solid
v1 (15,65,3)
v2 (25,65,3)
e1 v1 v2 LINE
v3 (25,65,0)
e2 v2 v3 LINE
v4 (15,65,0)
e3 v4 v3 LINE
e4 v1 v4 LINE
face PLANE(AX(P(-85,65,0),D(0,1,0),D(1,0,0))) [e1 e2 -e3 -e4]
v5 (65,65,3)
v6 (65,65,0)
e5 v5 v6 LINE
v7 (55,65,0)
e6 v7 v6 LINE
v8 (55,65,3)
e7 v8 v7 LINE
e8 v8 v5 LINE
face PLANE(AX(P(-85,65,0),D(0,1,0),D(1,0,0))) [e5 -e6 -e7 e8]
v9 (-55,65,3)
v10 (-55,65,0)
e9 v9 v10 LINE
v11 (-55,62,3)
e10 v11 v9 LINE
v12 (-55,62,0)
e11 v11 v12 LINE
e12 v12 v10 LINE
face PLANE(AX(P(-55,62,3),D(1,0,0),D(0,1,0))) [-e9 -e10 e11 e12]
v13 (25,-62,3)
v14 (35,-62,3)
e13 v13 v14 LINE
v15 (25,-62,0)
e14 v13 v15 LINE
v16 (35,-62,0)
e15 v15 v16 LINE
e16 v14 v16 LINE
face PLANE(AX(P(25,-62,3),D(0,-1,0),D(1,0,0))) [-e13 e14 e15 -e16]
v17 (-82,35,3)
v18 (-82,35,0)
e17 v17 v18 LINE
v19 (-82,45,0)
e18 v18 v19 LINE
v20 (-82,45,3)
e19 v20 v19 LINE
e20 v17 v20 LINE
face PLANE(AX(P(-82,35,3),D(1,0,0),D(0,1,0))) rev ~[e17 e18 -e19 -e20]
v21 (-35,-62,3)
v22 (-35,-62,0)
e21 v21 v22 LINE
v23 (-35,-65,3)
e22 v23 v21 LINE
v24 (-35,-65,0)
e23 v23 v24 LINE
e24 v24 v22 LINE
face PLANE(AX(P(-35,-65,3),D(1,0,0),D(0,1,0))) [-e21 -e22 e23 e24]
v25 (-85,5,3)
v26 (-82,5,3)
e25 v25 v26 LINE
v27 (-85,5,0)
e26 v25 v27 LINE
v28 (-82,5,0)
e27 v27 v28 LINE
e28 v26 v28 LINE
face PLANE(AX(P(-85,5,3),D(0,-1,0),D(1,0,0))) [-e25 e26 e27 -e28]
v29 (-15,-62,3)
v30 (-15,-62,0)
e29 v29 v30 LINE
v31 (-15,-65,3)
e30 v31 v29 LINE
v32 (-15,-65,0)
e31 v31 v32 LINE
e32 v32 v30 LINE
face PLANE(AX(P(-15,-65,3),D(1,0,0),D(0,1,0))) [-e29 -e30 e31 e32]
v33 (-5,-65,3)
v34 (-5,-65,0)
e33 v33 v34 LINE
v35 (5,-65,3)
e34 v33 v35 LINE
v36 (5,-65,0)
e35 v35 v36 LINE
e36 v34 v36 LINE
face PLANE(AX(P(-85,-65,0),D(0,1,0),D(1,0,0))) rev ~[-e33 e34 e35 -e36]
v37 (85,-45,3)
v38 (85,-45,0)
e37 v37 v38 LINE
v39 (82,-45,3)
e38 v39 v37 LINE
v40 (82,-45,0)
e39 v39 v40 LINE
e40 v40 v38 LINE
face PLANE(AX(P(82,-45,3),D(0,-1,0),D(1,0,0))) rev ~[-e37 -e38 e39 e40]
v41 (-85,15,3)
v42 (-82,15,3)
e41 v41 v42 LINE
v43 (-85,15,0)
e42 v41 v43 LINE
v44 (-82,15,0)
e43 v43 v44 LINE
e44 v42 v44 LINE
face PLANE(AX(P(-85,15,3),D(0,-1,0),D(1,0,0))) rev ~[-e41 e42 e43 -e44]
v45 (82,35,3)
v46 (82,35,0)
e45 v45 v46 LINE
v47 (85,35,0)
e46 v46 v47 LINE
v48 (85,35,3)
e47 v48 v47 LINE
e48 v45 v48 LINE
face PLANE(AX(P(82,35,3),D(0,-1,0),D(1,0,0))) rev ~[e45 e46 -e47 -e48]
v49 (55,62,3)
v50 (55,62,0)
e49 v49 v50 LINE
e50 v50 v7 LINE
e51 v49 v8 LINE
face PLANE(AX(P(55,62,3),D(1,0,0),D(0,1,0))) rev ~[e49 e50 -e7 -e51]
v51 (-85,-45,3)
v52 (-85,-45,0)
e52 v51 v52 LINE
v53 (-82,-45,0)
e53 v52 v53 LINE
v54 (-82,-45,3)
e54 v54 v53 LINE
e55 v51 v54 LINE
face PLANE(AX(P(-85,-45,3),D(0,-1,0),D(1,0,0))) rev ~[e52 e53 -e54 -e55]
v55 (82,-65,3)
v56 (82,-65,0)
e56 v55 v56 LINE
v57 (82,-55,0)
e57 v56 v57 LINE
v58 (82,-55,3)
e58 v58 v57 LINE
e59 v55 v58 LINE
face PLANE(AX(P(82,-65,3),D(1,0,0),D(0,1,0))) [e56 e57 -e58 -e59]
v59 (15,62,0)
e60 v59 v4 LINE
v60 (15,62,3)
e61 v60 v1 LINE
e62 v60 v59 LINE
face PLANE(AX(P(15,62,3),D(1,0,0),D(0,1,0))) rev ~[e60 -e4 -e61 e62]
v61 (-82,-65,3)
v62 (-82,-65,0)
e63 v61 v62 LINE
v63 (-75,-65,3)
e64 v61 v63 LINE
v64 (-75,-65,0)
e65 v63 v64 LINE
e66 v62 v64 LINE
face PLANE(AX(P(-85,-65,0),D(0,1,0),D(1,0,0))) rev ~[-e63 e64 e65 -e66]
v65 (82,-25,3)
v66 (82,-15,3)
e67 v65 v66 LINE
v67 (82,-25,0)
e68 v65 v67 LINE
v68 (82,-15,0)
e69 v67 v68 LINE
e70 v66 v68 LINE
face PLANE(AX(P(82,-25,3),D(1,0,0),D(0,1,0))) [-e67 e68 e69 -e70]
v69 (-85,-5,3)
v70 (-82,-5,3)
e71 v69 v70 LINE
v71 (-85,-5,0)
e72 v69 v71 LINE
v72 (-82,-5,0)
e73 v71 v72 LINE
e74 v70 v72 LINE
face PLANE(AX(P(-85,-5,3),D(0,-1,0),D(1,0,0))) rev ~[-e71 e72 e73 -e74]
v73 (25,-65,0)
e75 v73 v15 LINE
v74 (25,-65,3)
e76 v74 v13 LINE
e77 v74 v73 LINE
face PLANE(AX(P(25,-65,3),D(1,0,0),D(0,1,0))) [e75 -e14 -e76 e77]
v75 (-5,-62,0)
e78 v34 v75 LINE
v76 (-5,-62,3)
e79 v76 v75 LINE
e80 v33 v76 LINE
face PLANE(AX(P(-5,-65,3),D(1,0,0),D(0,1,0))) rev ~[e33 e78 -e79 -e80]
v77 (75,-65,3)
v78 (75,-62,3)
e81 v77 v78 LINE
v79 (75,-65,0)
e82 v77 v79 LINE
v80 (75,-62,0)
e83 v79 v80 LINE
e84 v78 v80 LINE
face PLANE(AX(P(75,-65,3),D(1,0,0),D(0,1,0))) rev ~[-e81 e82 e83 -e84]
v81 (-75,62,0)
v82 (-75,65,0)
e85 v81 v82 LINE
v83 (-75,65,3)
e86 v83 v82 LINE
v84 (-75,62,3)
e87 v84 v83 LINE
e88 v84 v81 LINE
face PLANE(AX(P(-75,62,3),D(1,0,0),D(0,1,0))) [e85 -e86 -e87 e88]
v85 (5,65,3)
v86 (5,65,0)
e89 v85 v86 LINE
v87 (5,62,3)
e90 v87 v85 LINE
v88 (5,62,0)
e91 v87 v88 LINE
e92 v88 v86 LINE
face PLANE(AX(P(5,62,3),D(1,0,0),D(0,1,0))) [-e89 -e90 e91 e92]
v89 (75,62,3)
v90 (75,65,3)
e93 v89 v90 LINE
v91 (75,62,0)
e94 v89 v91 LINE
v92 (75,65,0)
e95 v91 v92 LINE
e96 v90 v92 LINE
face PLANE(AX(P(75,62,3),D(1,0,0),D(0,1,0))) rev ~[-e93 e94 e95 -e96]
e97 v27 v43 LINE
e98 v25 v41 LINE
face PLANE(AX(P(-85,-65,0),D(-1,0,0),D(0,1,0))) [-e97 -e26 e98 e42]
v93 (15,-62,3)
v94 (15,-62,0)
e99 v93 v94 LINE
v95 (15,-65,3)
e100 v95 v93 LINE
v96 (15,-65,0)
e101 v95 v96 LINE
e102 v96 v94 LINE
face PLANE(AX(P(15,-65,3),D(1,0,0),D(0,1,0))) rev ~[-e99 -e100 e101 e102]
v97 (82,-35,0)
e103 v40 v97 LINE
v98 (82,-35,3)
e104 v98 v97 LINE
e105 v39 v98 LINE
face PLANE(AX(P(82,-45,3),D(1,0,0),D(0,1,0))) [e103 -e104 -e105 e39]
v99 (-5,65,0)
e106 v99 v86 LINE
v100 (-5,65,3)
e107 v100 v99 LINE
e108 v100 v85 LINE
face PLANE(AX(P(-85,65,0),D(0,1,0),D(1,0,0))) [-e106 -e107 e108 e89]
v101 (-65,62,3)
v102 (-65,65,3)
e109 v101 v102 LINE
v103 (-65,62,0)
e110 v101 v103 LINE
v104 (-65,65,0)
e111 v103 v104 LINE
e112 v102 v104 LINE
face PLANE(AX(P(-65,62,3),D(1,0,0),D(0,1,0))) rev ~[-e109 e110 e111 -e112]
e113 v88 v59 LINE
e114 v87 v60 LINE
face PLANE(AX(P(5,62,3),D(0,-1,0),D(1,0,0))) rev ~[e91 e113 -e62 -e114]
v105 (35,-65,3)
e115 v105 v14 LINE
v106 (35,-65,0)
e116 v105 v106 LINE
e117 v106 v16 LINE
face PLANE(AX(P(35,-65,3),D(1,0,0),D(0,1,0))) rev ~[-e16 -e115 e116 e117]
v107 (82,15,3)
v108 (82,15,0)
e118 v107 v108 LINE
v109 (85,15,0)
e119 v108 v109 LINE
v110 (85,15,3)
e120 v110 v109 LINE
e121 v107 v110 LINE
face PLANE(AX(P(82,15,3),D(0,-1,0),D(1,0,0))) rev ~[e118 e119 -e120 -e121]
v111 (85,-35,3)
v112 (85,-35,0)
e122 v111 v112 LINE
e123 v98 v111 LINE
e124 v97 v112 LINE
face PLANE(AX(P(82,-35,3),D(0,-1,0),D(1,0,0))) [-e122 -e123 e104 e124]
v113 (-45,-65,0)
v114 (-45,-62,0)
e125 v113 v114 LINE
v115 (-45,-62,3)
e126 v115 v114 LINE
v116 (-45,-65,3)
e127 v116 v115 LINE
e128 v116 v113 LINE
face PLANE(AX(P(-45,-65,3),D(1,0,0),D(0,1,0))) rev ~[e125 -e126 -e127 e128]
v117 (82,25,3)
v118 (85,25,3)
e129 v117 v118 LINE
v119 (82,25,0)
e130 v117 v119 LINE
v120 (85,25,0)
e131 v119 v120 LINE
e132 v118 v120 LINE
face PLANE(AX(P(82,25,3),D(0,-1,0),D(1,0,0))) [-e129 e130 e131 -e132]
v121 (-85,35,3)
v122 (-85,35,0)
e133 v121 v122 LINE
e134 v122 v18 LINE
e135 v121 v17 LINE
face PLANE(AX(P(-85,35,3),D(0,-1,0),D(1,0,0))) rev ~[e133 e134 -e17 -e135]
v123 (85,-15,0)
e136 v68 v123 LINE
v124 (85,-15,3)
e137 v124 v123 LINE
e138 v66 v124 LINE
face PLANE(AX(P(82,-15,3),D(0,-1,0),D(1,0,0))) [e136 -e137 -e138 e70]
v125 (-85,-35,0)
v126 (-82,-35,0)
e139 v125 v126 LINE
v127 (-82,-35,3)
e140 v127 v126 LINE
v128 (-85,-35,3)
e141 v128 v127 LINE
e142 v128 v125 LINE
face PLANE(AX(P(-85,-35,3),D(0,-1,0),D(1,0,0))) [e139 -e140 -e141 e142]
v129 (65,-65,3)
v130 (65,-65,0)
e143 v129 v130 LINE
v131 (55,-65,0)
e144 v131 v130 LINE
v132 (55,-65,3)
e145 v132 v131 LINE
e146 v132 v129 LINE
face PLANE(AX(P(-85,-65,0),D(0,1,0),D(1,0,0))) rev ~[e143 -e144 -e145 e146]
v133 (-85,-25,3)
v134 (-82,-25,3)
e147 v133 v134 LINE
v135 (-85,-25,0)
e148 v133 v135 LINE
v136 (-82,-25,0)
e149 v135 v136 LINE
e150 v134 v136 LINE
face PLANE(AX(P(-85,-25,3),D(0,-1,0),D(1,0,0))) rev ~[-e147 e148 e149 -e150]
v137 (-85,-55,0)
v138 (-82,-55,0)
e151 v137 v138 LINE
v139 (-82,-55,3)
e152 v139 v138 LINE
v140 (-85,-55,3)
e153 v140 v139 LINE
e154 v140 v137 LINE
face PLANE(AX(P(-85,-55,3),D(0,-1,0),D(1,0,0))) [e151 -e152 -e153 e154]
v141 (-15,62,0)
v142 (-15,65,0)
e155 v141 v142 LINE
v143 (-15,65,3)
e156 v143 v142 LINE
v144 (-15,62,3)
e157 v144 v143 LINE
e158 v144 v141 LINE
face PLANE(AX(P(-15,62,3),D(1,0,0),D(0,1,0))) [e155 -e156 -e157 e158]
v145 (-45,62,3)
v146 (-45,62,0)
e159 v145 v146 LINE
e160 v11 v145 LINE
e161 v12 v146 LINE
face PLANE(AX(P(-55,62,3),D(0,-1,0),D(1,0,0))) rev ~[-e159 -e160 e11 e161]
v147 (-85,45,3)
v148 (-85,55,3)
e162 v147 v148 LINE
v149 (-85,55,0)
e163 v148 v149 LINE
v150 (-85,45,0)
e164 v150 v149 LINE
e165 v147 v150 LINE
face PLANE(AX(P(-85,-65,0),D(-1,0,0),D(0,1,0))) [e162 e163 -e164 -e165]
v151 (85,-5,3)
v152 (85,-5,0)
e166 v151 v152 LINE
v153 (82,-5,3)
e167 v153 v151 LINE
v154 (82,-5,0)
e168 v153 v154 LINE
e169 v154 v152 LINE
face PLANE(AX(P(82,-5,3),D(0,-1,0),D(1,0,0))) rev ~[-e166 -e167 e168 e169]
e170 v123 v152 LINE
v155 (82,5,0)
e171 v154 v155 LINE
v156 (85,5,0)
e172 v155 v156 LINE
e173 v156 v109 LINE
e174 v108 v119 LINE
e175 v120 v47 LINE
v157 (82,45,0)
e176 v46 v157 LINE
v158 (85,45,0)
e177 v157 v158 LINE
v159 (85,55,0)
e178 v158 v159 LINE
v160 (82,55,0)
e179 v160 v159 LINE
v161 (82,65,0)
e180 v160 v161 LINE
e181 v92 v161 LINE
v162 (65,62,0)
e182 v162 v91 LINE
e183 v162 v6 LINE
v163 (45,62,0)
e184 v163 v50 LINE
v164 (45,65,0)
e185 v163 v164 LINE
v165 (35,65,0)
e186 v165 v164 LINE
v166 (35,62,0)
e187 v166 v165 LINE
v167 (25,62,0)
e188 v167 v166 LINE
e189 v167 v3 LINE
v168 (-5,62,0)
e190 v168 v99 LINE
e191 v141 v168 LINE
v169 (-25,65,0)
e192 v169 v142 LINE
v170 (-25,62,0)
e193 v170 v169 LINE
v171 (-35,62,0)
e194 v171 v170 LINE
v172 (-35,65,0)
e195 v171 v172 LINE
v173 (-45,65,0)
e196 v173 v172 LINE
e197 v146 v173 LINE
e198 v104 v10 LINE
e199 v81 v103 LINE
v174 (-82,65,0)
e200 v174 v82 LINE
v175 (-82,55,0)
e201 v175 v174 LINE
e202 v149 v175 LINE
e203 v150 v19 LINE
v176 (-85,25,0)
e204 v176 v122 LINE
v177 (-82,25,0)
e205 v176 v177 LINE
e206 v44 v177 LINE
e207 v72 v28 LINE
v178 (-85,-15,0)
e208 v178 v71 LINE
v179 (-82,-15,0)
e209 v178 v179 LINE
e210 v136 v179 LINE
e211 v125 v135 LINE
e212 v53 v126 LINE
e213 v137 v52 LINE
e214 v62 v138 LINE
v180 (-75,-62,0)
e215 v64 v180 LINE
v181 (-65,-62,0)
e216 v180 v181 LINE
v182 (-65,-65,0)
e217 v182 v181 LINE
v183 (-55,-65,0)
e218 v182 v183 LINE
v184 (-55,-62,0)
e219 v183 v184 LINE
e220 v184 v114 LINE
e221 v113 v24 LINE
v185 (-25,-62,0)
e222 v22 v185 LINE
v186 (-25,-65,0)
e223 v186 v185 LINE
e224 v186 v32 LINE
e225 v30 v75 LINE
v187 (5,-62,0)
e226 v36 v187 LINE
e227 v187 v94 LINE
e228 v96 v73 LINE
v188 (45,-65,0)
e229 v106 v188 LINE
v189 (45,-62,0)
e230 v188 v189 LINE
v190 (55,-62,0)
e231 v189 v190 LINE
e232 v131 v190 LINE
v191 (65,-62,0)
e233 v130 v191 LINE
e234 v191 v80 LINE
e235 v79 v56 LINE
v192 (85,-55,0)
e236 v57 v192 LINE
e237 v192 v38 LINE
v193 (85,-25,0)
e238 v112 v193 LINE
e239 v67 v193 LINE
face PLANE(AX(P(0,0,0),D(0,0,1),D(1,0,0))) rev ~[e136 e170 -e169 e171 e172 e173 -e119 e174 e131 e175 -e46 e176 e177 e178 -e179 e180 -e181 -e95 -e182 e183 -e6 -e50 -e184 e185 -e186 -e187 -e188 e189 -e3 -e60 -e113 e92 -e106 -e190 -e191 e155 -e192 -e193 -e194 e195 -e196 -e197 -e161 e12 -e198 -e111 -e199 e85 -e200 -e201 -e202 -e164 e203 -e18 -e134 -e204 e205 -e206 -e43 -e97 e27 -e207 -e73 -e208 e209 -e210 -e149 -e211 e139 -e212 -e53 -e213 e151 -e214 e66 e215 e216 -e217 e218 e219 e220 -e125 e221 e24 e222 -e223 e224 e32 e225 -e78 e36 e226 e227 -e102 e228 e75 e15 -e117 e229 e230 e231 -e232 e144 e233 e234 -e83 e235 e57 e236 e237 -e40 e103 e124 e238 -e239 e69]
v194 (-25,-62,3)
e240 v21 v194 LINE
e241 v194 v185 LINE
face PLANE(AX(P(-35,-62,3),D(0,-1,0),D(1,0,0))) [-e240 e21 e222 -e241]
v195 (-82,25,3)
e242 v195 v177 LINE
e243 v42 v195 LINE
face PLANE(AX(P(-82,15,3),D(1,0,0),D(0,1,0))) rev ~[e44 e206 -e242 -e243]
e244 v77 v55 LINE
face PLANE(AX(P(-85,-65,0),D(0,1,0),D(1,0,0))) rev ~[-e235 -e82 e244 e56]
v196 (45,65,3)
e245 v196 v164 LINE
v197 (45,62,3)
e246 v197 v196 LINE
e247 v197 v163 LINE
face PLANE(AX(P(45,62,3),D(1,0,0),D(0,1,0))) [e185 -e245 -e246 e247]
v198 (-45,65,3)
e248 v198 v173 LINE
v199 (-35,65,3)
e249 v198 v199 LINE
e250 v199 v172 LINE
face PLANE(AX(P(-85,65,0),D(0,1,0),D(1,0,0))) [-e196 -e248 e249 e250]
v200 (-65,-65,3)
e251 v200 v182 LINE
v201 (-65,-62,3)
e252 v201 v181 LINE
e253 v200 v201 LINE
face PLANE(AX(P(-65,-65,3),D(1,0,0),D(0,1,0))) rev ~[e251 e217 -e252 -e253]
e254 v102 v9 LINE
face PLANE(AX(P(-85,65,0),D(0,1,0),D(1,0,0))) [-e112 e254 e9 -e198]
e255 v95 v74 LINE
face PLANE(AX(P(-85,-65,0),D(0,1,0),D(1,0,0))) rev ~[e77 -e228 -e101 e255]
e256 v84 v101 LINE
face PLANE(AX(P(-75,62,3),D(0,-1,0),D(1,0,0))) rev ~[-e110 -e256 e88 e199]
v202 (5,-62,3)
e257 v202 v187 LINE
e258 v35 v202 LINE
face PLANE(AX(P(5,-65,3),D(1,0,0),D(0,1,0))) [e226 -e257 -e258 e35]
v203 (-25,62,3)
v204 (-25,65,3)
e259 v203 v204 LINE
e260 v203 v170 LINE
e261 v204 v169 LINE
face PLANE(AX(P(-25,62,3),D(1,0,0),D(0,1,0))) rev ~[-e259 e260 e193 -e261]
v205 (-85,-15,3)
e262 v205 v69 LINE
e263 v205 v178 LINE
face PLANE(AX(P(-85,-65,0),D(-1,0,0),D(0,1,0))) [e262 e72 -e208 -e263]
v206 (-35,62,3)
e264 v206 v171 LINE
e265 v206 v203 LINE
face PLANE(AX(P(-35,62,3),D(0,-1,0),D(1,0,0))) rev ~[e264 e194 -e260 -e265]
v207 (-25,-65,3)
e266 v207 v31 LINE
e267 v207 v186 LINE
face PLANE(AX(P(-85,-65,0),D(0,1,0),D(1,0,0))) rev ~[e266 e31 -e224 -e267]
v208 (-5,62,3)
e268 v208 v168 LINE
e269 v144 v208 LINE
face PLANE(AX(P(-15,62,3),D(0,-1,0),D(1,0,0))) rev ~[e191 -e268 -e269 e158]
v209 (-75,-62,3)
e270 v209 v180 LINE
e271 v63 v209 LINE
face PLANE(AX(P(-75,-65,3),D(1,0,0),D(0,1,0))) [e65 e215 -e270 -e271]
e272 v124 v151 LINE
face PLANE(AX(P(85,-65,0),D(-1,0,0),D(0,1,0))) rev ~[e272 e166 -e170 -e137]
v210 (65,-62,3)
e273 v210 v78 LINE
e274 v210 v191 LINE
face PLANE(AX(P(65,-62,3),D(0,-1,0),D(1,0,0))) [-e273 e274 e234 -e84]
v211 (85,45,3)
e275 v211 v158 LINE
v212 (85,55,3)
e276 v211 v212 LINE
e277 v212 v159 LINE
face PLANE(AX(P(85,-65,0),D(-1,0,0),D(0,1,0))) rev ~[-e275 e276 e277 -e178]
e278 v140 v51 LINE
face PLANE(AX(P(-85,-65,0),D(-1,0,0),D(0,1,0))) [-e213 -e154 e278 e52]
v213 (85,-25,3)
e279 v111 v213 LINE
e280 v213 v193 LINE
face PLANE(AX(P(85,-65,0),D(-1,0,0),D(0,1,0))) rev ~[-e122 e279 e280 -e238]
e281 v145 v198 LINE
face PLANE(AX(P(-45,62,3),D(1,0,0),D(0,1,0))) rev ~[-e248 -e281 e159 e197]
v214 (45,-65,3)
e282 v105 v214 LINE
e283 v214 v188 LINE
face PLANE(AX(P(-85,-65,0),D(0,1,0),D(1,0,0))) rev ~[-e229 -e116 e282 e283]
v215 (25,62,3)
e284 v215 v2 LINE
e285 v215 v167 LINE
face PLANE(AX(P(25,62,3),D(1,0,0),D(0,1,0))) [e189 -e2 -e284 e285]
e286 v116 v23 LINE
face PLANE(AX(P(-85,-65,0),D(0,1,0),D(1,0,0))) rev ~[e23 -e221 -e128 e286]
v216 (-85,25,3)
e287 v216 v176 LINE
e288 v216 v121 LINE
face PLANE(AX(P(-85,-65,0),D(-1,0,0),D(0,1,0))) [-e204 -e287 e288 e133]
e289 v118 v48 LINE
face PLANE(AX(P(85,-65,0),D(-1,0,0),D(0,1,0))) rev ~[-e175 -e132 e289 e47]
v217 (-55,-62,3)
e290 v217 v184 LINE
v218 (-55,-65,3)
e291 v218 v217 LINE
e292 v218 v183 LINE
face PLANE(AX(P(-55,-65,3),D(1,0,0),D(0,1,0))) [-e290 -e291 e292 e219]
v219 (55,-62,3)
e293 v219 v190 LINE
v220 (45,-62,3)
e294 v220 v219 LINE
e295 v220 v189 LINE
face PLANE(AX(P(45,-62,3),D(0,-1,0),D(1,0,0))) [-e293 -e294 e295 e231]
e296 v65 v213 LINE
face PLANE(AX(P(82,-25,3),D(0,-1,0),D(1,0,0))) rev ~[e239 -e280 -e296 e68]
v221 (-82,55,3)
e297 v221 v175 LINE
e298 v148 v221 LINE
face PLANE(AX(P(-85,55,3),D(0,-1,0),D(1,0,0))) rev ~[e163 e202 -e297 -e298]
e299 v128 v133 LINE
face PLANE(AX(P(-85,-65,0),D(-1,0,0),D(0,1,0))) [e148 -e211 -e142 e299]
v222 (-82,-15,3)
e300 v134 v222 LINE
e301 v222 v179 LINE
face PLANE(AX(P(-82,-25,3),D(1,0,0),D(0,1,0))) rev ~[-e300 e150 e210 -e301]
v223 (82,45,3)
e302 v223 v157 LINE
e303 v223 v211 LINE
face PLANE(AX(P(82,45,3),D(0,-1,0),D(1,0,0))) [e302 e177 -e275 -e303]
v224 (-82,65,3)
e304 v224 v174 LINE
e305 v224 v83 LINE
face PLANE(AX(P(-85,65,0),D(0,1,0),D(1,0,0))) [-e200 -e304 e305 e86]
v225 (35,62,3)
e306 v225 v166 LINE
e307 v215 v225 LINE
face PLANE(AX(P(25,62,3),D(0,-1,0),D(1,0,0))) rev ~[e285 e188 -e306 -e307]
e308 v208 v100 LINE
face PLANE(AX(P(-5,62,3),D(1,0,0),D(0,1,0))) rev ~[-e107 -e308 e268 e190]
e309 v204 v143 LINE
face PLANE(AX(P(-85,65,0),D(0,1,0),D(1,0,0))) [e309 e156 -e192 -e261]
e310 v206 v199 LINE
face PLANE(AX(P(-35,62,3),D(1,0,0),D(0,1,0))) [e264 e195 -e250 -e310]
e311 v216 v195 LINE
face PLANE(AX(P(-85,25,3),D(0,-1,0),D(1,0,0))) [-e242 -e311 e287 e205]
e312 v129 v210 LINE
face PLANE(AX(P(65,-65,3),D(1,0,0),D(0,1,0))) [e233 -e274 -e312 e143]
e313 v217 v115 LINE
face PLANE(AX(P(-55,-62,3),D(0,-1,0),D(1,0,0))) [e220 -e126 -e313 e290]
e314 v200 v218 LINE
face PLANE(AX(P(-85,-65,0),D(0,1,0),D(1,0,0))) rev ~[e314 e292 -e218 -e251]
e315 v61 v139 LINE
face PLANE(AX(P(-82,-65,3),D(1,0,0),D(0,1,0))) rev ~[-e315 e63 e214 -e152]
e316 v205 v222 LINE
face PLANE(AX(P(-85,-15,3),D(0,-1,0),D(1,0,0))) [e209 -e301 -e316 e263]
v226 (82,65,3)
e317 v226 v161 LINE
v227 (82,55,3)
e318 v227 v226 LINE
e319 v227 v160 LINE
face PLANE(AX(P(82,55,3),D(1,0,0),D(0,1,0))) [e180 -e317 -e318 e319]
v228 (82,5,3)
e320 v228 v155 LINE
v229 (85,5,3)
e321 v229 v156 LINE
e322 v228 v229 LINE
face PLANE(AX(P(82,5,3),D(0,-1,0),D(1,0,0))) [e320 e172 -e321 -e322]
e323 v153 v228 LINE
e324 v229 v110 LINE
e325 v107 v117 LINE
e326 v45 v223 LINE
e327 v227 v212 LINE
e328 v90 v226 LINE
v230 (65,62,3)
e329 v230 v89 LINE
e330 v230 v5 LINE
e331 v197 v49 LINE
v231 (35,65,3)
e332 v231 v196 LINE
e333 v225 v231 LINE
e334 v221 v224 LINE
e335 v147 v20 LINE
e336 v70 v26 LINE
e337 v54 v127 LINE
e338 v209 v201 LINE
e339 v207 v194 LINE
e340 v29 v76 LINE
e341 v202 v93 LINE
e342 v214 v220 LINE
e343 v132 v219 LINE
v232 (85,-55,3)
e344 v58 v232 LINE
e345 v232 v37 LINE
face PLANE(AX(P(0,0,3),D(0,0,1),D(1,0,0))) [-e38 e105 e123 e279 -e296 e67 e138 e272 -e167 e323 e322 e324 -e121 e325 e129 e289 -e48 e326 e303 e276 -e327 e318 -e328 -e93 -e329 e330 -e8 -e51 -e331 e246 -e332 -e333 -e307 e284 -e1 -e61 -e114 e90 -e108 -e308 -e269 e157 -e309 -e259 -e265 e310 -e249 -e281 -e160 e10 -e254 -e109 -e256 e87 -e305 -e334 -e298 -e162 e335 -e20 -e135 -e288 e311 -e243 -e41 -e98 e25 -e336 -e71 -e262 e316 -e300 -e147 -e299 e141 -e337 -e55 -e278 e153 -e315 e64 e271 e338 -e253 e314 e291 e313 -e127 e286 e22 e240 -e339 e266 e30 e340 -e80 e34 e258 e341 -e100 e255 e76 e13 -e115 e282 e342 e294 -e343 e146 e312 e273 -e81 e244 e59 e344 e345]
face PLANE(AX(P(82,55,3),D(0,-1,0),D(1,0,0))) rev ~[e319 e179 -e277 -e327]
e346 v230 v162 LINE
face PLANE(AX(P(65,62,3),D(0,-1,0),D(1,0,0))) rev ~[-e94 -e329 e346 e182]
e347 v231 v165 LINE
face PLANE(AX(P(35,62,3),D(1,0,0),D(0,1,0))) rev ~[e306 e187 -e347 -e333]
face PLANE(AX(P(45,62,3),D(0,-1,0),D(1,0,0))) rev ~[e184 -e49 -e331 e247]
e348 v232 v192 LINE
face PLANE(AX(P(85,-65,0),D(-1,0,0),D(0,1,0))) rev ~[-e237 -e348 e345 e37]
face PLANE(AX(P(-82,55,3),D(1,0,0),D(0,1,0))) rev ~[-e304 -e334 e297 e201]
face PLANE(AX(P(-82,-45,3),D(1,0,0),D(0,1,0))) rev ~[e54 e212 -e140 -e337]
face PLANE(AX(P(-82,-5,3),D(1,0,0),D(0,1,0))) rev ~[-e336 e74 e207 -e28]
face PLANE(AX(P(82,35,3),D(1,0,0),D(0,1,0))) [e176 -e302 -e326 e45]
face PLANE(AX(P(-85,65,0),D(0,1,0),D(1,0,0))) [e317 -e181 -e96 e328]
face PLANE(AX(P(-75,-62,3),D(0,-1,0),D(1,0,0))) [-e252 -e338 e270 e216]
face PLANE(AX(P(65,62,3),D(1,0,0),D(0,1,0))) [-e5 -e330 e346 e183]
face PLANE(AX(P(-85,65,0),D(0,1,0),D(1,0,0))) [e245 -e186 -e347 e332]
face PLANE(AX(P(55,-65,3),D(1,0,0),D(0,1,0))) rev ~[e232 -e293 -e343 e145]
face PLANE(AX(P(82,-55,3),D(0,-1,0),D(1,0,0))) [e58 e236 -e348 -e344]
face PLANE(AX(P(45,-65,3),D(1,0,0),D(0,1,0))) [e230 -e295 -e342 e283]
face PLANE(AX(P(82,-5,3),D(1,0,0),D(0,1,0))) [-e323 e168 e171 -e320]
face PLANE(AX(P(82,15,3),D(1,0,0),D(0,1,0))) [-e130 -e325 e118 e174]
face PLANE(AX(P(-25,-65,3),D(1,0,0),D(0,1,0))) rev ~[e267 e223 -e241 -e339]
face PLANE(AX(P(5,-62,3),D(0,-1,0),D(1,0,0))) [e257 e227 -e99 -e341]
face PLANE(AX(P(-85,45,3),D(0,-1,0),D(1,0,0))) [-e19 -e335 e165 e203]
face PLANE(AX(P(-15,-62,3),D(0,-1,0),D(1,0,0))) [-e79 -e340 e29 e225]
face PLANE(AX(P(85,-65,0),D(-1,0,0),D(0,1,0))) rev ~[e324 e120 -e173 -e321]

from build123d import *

# Parameters (mm, degrees)
F0_W     = 170
F0_H     = 130
F1_DEPTH = 3
F2_W     = 10
F2_H     = 3
F2_W_2   = 3
F2_H_2   = 10
F3_DEPTH = 3.001


with BuildPart() as f1:
    # F0 (on Top) → F1 (new body)
    with BuildSketch(Plane.XY):
        Rectangle(F0_W, F0_H)
    extrude(amount=F1_DEPTH)

    # F2 (on face) → F3 (cut, through all)
    with BuildSketch(Plane.XY.offset(3)):
        with Locations((-70, -63.5)):
            Rectangle(F2_W, F2_H)
        with Locations((-50, -63.5)):
            Rectangle(F2_W, F2_H)
        with Locations((-30, -63.5)):
            Rectangle(F2_W, F2_H)
        with Locations((-10, -63.5)):
            Rectangle(F2_W, F2_H)
        with Locations((10, -63.5)):
            Rectangle(F2_W, F2_H)
        with Locations((30, -63.5)):
            Rectangle(F2_W, F2_H)
        with Locations((50, -63.5)):
            Rectangle(F2_W, F2_H)
        with Locations((70, -63.5)):
            Rectangle(F2_W, F2_H)
        with Locations((-83.5, -60)):
            Rectangle(F2_W_2, F2_H_2)
        with Locations((-83.5, -40)):
            Rectangle(F2_W_2, F2_H_2)
        with Locations((-83.5, -20)):
            Rectangle(F2_W_2, F2_H_2)
        with Locations((-83.5, 0)):
            Rectangle(F2_W_2, F2_H_2)
        with Locations((-83.5, 20)):
            Rectangle(F2_W_2, F2_H_2)
        with Locations((-83.5, 40)):
            Rectangle(F2_W_2, F2_H_2)
        with Locations((-83.5, 60)):
            Rectangle(F2_W_2, F2_H_2)
        with Locations((83.5, -60)):
            Rectangle(F2_W_2, F2_H_2)
        with Locations((83.5, -40)):
            Rectangle(F2_W_2, F2_H_2)
        with Locations((83.5, 20)):
            Rectangle(F2_W_2, F2_H_2)
        with Locations((83.5, 60)):
            Rectangle(F2_W_2, F2_H_2)
        with Locations((83.5, 0)):
            Rectangle(F2_W_2, F2_H_2)
        with Locations((83.5, -20)):
            Rectangle(F2_W_2, F2_H_2)
        with Locations((83.5, 40)):
            Rectangle(F2_W_2, F2_H_2)
        with Locations((10, 63.5)):
            Rectangle(F2_W, F2_H)
        with Locations((-70, 63.5)):
            Rectangle(F2_W, F2_H)
        with Locations((50, 63.5)):
            Rectangle(F2_W, F2_H)
        with Locations((70, 63.5)):
            Rectangle(F2_W, F2_H)
        with Locations((-30, 63.5)):
            Rectangle(F2_W, F2_H)
        with Locations((-50, 63.5)):
            Rectangle(F2_W, F2_H)
        with Locations((30, 63.5)):
            Rectangle(F2_W, F2_H)
        with Locations((-10, 63.5)):
            Rectangle(F2_W, F2_H)
    extrude(amount=-F3_DEPTH, mode=Mode.SUBTRACT)


solid = f1.part
